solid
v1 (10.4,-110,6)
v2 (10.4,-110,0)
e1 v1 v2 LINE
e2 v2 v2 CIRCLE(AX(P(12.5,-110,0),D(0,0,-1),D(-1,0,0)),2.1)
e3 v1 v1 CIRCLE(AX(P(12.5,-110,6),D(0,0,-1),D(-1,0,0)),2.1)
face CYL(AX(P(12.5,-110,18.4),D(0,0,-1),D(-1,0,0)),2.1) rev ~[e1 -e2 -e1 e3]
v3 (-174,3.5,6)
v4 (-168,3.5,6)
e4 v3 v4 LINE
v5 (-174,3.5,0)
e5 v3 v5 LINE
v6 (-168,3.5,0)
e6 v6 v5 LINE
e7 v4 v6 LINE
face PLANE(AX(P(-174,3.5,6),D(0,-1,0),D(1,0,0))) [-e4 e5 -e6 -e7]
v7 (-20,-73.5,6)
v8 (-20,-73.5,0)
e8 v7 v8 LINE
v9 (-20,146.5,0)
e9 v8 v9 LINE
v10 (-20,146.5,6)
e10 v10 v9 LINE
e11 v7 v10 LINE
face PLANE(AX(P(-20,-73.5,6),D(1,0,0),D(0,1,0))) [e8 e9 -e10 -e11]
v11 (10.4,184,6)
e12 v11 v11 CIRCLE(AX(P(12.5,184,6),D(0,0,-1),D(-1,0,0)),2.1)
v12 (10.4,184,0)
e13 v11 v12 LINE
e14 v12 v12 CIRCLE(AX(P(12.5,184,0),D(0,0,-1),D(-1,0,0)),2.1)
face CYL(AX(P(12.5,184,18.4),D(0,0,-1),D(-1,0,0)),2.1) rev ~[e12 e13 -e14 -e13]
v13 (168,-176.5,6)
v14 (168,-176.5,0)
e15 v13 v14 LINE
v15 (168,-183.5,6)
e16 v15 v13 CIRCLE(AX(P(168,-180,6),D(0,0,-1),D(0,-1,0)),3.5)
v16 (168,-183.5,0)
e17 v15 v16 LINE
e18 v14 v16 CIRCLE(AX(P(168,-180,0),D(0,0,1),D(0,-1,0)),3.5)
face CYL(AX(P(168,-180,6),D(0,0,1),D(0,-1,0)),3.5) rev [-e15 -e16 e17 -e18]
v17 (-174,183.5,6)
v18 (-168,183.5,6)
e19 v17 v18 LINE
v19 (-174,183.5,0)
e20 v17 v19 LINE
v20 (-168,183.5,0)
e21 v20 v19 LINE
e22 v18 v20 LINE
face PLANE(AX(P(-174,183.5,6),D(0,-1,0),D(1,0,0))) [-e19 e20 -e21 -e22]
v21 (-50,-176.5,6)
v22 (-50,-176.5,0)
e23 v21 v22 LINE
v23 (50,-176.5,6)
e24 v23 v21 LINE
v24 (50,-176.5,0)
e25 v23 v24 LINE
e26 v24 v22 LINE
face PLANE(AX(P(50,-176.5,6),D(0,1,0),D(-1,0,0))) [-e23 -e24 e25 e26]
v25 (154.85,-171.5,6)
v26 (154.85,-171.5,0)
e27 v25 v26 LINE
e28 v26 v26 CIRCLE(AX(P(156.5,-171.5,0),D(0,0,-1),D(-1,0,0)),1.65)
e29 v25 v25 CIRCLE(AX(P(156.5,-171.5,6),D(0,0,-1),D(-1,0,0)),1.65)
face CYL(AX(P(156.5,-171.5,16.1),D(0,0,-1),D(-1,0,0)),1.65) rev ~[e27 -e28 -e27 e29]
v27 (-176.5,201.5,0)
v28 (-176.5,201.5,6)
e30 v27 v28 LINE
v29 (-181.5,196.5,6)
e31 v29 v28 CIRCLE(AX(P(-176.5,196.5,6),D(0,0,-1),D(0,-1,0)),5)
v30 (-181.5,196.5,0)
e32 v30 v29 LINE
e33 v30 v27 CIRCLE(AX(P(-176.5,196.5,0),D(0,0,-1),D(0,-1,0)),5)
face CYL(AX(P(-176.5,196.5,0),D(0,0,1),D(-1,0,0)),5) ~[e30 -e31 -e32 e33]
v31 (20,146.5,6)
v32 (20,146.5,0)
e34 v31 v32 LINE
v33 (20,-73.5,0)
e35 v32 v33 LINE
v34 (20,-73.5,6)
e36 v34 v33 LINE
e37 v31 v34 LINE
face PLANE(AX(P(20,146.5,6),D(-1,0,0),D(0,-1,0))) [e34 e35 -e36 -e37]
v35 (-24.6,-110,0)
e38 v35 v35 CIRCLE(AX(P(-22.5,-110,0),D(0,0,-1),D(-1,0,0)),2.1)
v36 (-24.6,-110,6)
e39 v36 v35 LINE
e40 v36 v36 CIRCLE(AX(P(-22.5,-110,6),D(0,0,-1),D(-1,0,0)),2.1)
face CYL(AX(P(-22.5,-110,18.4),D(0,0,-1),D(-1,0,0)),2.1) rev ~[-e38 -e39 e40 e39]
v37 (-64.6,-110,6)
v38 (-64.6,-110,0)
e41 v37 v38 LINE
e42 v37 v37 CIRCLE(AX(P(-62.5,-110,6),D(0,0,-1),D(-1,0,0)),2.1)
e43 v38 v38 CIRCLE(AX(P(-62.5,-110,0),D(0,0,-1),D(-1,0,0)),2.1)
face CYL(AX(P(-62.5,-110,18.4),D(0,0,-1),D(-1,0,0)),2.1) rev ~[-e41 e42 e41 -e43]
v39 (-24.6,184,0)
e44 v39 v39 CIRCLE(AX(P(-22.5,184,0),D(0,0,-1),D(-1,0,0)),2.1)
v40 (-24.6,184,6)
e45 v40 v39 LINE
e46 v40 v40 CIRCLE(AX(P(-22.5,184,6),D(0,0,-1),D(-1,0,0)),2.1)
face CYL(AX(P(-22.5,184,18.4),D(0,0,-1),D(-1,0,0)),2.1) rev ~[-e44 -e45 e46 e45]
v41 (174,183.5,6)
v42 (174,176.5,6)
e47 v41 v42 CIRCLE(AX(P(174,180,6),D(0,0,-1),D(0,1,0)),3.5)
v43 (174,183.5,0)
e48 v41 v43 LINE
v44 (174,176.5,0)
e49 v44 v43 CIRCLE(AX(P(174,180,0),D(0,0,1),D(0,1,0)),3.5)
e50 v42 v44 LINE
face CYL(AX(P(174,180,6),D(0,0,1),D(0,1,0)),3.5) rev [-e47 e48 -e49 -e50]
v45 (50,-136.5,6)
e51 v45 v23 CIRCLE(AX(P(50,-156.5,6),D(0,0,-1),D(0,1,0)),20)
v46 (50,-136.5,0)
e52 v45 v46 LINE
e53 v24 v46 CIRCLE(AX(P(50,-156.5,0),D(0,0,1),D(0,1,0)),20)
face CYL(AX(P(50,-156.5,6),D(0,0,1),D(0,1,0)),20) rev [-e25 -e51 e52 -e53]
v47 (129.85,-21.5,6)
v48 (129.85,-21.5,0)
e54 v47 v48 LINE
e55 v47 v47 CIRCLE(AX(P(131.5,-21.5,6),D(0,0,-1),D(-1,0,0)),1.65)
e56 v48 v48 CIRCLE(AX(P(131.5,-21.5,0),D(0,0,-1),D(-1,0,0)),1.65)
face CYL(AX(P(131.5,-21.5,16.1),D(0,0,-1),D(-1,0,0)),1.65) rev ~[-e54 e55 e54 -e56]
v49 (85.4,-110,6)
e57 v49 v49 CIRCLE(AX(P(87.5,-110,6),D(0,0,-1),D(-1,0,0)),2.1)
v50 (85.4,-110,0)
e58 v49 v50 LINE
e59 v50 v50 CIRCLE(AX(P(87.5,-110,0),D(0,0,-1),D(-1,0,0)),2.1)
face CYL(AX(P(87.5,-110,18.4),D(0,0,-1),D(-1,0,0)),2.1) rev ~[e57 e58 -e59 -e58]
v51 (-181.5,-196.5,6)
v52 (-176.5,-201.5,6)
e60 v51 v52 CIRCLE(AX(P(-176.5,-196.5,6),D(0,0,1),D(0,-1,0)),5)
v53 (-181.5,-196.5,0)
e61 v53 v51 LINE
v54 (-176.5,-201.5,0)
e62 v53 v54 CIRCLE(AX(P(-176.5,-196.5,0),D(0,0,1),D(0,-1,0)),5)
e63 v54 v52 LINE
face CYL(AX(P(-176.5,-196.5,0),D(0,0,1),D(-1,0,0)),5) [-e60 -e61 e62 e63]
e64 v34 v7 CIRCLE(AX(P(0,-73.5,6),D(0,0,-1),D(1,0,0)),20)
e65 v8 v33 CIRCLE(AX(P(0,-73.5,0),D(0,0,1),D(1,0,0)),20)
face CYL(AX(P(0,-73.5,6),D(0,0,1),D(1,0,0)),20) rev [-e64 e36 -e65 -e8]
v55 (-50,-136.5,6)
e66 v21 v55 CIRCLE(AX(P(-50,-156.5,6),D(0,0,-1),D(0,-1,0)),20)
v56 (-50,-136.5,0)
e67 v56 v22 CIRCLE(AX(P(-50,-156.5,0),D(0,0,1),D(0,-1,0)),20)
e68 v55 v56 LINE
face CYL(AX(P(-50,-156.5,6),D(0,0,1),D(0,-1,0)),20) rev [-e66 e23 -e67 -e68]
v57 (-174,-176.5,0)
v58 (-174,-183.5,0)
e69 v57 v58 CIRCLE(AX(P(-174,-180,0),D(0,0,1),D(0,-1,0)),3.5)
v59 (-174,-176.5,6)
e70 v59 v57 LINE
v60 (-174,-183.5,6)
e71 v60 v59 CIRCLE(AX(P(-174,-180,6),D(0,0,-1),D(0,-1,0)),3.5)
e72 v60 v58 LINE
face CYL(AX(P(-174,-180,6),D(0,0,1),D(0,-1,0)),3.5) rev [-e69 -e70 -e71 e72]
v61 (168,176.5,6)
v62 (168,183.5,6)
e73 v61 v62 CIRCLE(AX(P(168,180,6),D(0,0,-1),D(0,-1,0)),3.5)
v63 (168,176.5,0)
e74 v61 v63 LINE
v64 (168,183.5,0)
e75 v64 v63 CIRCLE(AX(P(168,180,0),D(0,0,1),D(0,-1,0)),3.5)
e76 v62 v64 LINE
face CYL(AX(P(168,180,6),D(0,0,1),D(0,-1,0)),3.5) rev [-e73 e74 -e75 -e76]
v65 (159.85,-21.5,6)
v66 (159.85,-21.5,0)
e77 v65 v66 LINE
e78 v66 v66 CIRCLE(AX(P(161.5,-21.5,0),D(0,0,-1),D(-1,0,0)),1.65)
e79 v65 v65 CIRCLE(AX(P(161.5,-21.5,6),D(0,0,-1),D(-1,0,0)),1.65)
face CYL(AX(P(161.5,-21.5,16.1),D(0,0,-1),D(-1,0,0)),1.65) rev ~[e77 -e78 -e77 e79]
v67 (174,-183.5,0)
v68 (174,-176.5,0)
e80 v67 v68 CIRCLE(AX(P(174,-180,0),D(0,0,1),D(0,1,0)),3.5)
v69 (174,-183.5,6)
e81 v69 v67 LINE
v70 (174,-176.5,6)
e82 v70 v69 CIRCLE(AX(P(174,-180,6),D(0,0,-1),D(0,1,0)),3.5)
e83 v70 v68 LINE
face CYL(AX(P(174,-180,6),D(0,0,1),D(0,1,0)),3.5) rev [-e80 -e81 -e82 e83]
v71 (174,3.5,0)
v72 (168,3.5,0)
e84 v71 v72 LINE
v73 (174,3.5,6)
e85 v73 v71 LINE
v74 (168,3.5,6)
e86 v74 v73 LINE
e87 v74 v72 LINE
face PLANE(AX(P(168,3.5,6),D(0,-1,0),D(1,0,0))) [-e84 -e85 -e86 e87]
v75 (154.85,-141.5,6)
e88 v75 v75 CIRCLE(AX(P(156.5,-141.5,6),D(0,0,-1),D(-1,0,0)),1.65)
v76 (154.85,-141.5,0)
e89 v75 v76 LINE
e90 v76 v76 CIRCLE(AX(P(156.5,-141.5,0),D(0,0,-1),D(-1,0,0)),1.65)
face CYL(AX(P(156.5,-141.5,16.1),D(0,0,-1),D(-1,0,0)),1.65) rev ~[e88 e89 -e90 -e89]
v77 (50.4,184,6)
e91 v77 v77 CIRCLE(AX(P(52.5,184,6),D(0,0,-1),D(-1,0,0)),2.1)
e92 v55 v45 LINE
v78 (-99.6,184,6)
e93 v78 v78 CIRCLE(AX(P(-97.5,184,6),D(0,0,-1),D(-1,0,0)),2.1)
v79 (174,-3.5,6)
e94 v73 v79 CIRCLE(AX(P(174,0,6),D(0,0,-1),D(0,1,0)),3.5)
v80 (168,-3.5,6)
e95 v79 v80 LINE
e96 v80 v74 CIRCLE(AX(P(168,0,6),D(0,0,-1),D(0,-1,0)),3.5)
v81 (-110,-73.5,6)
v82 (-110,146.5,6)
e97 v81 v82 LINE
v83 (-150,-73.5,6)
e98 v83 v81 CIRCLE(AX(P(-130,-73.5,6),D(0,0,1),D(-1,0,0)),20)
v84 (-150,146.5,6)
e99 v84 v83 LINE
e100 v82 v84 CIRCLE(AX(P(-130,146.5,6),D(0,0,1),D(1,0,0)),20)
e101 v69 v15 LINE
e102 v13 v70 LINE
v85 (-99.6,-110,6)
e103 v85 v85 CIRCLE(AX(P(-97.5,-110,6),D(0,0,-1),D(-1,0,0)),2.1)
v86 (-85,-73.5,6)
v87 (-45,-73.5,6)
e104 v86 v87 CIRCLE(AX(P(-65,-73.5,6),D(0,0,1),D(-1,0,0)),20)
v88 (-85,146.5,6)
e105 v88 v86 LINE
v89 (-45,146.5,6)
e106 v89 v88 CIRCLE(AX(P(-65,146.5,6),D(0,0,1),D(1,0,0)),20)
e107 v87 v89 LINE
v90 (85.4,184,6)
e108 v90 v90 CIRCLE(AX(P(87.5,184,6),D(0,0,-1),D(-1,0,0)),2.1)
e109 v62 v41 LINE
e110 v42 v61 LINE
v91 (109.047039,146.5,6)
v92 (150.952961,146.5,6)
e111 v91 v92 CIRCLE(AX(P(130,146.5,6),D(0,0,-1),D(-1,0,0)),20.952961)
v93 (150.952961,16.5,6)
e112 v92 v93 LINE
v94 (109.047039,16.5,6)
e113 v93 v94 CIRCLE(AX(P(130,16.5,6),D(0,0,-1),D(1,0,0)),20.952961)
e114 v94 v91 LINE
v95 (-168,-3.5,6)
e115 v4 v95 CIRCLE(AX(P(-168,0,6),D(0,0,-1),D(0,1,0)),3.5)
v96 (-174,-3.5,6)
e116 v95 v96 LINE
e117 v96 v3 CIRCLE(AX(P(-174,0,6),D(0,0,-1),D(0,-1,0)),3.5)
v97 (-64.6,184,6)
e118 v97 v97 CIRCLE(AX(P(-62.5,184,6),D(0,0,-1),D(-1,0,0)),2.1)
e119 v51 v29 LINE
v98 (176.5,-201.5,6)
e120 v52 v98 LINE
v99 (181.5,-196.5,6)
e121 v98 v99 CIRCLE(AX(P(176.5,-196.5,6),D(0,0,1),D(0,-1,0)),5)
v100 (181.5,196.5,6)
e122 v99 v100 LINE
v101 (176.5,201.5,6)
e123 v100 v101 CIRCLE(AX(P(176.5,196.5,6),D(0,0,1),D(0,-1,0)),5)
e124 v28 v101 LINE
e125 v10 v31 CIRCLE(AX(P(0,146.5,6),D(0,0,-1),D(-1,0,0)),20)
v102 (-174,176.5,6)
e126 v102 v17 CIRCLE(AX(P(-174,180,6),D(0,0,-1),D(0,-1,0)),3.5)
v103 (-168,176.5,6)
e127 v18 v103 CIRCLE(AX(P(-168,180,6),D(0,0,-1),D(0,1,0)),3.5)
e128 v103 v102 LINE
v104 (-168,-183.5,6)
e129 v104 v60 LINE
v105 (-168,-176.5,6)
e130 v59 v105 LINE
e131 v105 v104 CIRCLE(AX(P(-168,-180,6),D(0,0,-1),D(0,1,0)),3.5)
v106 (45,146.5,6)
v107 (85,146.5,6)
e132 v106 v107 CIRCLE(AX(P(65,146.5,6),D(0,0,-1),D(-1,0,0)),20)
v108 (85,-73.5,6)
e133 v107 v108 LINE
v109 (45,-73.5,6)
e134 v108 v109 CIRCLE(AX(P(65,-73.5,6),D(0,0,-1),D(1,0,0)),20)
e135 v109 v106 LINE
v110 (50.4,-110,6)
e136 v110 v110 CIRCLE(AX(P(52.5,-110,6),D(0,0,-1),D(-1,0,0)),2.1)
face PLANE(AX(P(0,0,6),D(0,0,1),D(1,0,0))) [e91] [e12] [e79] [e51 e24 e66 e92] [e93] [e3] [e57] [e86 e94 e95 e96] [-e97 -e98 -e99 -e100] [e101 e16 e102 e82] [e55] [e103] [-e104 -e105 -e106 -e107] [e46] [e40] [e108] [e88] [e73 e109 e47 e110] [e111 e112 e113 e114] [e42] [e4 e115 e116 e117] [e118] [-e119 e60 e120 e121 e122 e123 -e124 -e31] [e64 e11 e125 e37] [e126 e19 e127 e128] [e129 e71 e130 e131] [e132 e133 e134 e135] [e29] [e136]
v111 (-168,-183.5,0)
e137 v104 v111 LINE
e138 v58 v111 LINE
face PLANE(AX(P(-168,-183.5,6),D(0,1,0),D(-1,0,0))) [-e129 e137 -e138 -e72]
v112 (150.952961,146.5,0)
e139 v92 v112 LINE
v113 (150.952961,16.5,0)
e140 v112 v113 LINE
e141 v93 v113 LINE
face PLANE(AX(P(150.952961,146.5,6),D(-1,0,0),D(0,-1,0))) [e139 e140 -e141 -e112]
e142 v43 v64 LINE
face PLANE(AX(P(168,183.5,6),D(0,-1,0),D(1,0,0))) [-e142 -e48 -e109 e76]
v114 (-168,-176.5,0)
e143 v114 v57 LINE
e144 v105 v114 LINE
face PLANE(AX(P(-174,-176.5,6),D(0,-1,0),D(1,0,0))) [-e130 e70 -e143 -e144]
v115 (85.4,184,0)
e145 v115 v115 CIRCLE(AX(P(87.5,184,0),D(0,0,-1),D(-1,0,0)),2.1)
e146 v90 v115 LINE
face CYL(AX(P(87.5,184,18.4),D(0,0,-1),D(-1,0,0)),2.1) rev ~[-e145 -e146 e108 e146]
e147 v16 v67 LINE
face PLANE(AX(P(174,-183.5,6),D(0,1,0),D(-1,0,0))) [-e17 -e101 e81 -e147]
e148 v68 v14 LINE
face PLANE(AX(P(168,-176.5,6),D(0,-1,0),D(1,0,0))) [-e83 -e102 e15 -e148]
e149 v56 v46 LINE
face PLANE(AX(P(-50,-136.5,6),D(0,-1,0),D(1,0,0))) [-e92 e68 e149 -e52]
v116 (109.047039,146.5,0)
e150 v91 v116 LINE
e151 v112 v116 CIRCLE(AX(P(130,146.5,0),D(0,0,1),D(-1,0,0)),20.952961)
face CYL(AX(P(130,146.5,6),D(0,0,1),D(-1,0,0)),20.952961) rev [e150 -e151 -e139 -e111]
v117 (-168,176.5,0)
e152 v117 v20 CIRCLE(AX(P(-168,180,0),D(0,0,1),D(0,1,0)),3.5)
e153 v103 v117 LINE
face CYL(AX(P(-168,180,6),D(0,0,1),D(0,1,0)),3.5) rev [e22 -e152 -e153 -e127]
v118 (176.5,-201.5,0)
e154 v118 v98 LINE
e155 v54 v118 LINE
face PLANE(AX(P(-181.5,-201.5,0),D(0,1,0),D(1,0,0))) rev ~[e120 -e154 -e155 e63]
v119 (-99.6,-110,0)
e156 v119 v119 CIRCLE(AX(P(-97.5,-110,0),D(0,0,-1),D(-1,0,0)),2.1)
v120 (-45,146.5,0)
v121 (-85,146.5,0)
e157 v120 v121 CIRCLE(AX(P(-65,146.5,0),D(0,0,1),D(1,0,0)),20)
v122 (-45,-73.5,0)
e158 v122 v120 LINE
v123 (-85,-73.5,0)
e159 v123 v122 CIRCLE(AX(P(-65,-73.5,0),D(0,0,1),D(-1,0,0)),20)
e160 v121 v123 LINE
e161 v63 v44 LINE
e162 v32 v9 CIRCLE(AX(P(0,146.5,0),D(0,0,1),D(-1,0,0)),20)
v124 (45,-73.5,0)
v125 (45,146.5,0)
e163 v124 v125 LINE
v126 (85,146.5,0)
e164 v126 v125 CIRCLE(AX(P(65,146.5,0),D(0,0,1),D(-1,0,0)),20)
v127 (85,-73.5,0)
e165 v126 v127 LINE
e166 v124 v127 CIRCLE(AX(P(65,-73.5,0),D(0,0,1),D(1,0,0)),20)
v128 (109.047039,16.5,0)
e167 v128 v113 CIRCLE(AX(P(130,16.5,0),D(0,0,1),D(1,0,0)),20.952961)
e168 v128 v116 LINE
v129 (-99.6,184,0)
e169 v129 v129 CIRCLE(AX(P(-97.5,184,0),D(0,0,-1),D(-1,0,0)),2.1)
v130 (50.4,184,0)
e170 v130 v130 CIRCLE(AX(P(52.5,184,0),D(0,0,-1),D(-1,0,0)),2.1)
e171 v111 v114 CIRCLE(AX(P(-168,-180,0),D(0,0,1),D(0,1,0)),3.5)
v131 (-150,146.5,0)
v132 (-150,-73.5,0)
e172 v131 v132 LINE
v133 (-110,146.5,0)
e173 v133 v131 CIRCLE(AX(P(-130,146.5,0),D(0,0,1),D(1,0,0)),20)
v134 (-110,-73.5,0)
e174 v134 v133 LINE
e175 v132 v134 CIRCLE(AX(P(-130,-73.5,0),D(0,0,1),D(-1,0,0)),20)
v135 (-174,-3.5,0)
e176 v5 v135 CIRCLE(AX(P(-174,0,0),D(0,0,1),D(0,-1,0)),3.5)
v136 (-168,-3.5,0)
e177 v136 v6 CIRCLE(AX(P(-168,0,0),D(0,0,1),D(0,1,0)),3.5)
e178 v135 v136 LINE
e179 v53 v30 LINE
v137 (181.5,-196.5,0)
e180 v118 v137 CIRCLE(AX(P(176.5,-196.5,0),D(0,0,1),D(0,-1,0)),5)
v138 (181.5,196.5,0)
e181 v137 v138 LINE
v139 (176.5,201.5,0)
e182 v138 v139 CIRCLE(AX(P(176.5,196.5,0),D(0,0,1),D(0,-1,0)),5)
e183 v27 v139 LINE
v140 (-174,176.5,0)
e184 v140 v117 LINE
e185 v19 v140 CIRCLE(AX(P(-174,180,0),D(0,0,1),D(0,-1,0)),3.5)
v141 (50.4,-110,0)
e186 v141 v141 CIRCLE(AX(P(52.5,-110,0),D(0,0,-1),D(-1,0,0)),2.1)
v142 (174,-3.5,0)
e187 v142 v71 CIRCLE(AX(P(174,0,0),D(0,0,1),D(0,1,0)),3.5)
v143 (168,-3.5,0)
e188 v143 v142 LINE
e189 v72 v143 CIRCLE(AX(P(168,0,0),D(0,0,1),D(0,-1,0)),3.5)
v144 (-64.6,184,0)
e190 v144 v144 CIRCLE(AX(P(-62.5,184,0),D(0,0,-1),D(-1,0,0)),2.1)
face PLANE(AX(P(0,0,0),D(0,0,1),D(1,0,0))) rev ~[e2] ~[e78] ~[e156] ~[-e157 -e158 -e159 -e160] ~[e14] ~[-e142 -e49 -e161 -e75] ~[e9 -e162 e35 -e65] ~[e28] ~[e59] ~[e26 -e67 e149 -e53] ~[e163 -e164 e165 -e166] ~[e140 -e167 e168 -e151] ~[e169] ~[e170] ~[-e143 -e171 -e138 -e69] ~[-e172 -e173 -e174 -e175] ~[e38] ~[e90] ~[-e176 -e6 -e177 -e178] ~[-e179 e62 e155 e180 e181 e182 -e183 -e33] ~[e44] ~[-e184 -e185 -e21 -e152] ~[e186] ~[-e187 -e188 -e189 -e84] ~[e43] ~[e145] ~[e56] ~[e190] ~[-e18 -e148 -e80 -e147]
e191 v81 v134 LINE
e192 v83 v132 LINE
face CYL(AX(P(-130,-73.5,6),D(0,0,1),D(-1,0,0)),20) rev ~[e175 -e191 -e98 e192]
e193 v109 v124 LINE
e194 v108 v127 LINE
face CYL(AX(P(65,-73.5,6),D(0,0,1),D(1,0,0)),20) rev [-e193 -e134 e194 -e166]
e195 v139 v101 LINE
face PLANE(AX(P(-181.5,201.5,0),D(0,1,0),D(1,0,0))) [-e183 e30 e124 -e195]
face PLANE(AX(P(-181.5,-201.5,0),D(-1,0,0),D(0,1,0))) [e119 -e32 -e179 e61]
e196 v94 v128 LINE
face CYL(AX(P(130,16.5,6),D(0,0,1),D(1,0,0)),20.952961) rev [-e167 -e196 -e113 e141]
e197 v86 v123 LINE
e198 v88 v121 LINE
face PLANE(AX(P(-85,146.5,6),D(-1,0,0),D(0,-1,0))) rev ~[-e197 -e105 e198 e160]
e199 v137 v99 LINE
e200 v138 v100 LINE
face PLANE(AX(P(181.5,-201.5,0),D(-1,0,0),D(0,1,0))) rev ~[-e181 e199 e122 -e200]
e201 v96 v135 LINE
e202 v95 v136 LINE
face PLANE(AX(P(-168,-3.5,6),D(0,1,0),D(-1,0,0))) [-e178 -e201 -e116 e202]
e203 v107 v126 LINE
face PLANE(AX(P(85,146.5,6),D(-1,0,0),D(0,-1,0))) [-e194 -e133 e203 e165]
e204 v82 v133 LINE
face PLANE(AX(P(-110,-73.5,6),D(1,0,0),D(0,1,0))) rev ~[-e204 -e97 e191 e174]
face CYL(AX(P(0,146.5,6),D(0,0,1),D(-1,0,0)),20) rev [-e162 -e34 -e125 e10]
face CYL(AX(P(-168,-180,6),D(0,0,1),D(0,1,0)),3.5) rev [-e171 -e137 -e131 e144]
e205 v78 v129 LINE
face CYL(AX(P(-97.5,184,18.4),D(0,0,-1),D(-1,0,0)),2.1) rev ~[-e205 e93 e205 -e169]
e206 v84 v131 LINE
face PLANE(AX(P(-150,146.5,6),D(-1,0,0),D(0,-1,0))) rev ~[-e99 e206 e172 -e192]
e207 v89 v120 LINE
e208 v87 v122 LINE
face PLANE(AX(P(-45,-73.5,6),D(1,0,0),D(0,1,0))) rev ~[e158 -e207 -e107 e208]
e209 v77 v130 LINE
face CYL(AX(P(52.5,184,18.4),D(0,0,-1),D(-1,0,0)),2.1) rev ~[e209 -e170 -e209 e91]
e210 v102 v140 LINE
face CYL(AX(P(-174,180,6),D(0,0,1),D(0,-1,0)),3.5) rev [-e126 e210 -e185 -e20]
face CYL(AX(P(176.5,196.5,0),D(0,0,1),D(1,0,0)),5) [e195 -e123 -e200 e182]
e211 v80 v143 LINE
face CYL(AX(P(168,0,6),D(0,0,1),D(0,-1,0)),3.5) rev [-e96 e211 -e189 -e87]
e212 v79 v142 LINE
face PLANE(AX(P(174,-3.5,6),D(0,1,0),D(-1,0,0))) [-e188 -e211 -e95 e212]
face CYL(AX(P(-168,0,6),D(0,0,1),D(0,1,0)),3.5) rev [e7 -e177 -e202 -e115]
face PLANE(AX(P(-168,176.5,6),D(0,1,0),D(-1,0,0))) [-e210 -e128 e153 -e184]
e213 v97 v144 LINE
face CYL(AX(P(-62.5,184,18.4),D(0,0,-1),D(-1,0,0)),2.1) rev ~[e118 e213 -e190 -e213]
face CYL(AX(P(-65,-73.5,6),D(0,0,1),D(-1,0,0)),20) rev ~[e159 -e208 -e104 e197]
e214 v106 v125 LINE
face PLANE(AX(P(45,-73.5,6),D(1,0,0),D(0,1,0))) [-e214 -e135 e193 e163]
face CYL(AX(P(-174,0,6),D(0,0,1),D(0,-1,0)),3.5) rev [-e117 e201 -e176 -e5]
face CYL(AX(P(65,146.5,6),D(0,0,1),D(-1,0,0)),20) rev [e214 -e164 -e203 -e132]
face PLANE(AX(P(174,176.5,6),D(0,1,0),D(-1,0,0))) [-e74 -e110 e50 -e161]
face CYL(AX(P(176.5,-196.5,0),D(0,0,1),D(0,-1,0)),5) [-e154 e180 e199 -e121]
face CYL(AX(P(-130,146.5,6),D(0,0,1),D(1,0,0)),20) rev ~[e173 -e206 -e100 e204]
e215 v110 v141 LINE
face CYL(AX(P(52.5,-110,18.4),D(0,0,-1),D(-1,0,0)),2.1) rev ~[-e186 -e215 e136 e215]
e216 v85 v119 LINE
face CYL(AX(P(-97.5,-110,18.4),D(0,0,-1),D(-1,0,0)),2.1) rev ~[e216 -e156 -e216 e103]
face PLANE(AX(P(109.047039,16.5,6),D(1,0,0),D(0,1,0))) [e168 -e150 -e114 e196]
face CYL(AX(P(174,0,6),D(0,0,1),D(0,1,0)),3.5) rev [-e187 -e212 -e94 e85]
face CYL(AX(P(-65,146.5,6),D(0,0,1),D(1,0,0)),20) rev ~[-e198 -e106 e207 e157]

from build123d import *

# Parameters (mm, degrees)
SKETCH_1_W             = 363
SKETCH_1_H             = 403
EXTRUDE_1_DEPTH        = 6
FILLET_1_R             = 5
SKETCH_3_R             = 3.5
CUT_EXTRUDE_2_DEPTH    = 10
HOLE_WIZARD_M5_1_D     = 4.2
HOLE_WIZARD_M5_1_DEPTH = 12.4
HOLE_WIZARD_M5_1_TIP   = 1.2618073
CUT_EXTRUDE_3_DEPTH    = 10
CUT_EXTRUDE_4_DEPTH    = 10
CUT_EXTRUDE_5_DEPTH    = 10
HOLE_WIZARD_M4_1_D     = 3.3
HOLE_WIZARD_M4_1_DEPTH = 10.1
HOLE_WIZARD_M4_1_TIP   = 0.991420021


with BuildPart() as part:
    # Sketch 1 → 凸台-拉伸1 (new body)
    with BuildSketch(Plane.XY):
        Rectangle(SKETCH_1_W, SKETCH_1_H)
    extrude(amount=EXTRUDE_1_DEPTH)

    # 圆角1
    fillet_1_edges = [part.edges().sort_by_distance(p)[0] for p in [
        (181.5, -201.5, 3),
        (-181.5, -201.5, 3),
        (-181.5, 201.5, 3),
        (181.5, 201.5, 3),
    ]]
    fillet(fillet_1_edges, radius=FILLET_1_R)

    # 草图3 → 切除-拉伸2 (cut)
    with BuildSketch(Plane.XY.offset(6)):
        with Locations((-171, -180)):
            Circle(SKETCH_3_R)
        with Locations((-171, 180)):
            Circle(SKETCH_3_R)
        with Locations((-171, 0)):
            Circle(SKETCH_3_R)
        with Locations((171, 0)):
            Circle(SKETCH_3_R)
        with Locations((171, 180)):
            Circle(SKETCH_3_R)
        with Locations((171, -180)):
            Circle(SKETCH_3_R)
    extrude(amount=-CUT_EXTRUDE_2_DEPTH, mode=Mode.SUBTRACT)

    # M5 螺纹孔1
    with Locations(Plane.XY.offset(6)):
        with Locations((-97.5, -110), (-62.5, -110), (-97.5, 184), (-62.5, 184), (-22.5, -110), (12.5, -110), (-22.5, 184), (12.5, 184), (52.5, -110), (87.5, -110), (52.5, 184), (87.5, 184)):
            Hole(HOLE_WIZARD_M5_1_D / 2, depth=HOLE_WIZARD_M5_1_DEPTH)
            with Locations((0, 0, -(HOLE_WIZARD_M5_1_DEPTH + HOLE_WIZARD_M5_1_TIP / 2))):  # 118° drill point
                Cone(0, HOLE_WIZARD_M5_1_D / 2, HOLE_WIZARD_M5_1_TIP, mode=Mode.SUBTRACT)

    # 草图6 → 切除-拉伸3 (cut)
    with BuildSketch(Plane.XY.offset(6)):
        with BuildLine():
            Line((-174, 183.5), (-168, 183.5))
            ThreePointArc((-168, 183.5), (-164.5, 180), (-168, 176.5))
            Line((-168, 176.5), (-174, 176.5))
            ThreePointArc((-174, 176.5), (-177.5, 180), (-174, 183.5))
        make_face()
        with BuildLine():
            Line((168, 183.5), (174, 183.5))
            ThreePointArc((174, 183.5), (177.5, 180), (174, 176.5))
            Line((174, 176.5), (168, 176.5))
            ThreePointArc((168, 176.5), (164.5, 180), (168, 183.5))
        make_face()
        with BuildLine():
            Line((168, 3.5), (174, 3.5))
            ThreePointArc((174, 3.5), (177.5, 0), (174, -3.5))
            Line((174, -3.5), (168, -3.5))
            ThreePointArc((168, -3.5), (164.5, 0), (168, 3.5))
        make_face()
        with BuildLine():
            Line((168, -176.5), (174, -176.5))
            ThreePointArc((174, -176.5), (177.5, -180), (174, -183.5))
            Line((174, -183.5), (168, -183.5))
            ThreePointArc((168, -183.5), (164.5, -180), (168, -176.5))
        make_face()
        with BuildLine():
            Line((-174, 3.5), (-168, 3.5))
            ThreePointArc((-168, 3.5), (-164.5, 0), (-168, -3.5))
            Line((-168, -3.5), (-174, -3.5))
            ThreePointArc((-174, -3.5), (-177.5, 0), (-174, 3.5))
        make_face()
        with BuildLine():
            Line((-174, -176.5), (-168, -176.5))
            ThreePointArc((-168, -176.5), (-164.5, -180), (-168, -183.5))
            Line((-168, -183.5), (-174, -183.5))
            ThreePointArc((-174, -183.5), (-177.5, -180), (-174, -176.5))
        make_face()
    extrude(amount=-CUT_EXTRUDE_3_DEPTH, mode=Mode.SUBTRACT)

    # 草图7 → 切除-拉伸4 (cut)
    with BuildSketch(Plane.XY.offset(6)):
        with BuildLine():
            Line((-50, -136.5), (50, -136.5))
            ThreePointArc((50, -136.5), (70, -156.5), (50, -176.5))
            Line((50, -176.5), (-50, -176.5))
            ThreePointArc((-50, -176.5), (-70, -156.5), (-50, -136.5))
        make_face()
    extrude(amount=-CUT_EXTRUDE_4_DEPTH, mode=Mode.SUBTRACT)

    # 草图8 → 切除-拉伸5 (cut)
    with BuildSketch(Plane.XY.offset(6)):
        with BuildLine():
            Line((20, 146.5), (20, -73.5))
            ThreePointArc((20, -73.5), (0, -93.5), (-20, -73.5))
            Line((-20, -73.5), (-20, 146.5))
            ThreePointArc((-20, 146.5), (0, 166.5), (20, 146.5))
        make_face()
        with BuildLine():
            Line((85, 146.5), (85, -73.5))
            ThreePointArc((85, -73.5), (65, -93.5), (45, -73.5))
            Line((45, -73.5), (45, 146.5))
            ThreePointArc((45, 146.5), (65, 166.5), (85, 146.5))
        make_face()
        with BuildLine():
            Line((-150, 146.5), (-150, -73.5))
            ThreePointArc((-150, -73.5), (-130, -93.5), (-110, -73.5))
            Line((-110, -73.5), (-110, 146.5))
            ThreePointArc((-110, 146.5), (-130, 166.5), (-150, 146.5))
        make_face()
        with BuildLine():
            Line((-85, 146.5), (-85, -73.5))
            ThreePointArc((-85, -73.5), (-65, -93.5), (-45, -73.5))
            Line((-45, -73.5), (-45, 146.5))
            ThreePointArc((-45, 146.5), (-65, 166.5), (-85, 146.5))
        make_face()
        with BuildLine():
            Line((150.952961105, 146.5), (150.952961105, 16.5))
            ThreePointArc((150.952961105, 16.5), (130, -4.452961105), (109.047038895, 16.5))
            Line((109.047038895, 16.5), (109.047038895, 146.5))
            ThreePointArc((109.047038895, 146.5), (130, 167.452961105), (150.952961105, 146.5))
        make_face()
    extrude(amount=-CUT_EXTRUDE_5_DEPTH, mode=Mode.SUBTRACT)

    # M4 螺纹孔1
    with Locations(Plane.XY.offset(6)):
        with Locations((156.5, -171.5), (156.5, -141.5), (161.5, -21.5), (131.5, -21.5)):
            Hole(HOLE_WIZARD_M4_1_D / 2, depth=HOLE_WIZARD_M4_1_DEPTH)
            with Locations((0, 0, -(HOLE_WIZARD_M4_1_DEPTH + HOLE_WIZARD_M4_1_TIP / 2))):  # 118° drill point
                Cone(0, HOLE_WIZARD_M4_1_D / 2, HOLE_WIZARD_M4_1_TIP, mode=Mode.SUBTRACT)


solid = part.part
